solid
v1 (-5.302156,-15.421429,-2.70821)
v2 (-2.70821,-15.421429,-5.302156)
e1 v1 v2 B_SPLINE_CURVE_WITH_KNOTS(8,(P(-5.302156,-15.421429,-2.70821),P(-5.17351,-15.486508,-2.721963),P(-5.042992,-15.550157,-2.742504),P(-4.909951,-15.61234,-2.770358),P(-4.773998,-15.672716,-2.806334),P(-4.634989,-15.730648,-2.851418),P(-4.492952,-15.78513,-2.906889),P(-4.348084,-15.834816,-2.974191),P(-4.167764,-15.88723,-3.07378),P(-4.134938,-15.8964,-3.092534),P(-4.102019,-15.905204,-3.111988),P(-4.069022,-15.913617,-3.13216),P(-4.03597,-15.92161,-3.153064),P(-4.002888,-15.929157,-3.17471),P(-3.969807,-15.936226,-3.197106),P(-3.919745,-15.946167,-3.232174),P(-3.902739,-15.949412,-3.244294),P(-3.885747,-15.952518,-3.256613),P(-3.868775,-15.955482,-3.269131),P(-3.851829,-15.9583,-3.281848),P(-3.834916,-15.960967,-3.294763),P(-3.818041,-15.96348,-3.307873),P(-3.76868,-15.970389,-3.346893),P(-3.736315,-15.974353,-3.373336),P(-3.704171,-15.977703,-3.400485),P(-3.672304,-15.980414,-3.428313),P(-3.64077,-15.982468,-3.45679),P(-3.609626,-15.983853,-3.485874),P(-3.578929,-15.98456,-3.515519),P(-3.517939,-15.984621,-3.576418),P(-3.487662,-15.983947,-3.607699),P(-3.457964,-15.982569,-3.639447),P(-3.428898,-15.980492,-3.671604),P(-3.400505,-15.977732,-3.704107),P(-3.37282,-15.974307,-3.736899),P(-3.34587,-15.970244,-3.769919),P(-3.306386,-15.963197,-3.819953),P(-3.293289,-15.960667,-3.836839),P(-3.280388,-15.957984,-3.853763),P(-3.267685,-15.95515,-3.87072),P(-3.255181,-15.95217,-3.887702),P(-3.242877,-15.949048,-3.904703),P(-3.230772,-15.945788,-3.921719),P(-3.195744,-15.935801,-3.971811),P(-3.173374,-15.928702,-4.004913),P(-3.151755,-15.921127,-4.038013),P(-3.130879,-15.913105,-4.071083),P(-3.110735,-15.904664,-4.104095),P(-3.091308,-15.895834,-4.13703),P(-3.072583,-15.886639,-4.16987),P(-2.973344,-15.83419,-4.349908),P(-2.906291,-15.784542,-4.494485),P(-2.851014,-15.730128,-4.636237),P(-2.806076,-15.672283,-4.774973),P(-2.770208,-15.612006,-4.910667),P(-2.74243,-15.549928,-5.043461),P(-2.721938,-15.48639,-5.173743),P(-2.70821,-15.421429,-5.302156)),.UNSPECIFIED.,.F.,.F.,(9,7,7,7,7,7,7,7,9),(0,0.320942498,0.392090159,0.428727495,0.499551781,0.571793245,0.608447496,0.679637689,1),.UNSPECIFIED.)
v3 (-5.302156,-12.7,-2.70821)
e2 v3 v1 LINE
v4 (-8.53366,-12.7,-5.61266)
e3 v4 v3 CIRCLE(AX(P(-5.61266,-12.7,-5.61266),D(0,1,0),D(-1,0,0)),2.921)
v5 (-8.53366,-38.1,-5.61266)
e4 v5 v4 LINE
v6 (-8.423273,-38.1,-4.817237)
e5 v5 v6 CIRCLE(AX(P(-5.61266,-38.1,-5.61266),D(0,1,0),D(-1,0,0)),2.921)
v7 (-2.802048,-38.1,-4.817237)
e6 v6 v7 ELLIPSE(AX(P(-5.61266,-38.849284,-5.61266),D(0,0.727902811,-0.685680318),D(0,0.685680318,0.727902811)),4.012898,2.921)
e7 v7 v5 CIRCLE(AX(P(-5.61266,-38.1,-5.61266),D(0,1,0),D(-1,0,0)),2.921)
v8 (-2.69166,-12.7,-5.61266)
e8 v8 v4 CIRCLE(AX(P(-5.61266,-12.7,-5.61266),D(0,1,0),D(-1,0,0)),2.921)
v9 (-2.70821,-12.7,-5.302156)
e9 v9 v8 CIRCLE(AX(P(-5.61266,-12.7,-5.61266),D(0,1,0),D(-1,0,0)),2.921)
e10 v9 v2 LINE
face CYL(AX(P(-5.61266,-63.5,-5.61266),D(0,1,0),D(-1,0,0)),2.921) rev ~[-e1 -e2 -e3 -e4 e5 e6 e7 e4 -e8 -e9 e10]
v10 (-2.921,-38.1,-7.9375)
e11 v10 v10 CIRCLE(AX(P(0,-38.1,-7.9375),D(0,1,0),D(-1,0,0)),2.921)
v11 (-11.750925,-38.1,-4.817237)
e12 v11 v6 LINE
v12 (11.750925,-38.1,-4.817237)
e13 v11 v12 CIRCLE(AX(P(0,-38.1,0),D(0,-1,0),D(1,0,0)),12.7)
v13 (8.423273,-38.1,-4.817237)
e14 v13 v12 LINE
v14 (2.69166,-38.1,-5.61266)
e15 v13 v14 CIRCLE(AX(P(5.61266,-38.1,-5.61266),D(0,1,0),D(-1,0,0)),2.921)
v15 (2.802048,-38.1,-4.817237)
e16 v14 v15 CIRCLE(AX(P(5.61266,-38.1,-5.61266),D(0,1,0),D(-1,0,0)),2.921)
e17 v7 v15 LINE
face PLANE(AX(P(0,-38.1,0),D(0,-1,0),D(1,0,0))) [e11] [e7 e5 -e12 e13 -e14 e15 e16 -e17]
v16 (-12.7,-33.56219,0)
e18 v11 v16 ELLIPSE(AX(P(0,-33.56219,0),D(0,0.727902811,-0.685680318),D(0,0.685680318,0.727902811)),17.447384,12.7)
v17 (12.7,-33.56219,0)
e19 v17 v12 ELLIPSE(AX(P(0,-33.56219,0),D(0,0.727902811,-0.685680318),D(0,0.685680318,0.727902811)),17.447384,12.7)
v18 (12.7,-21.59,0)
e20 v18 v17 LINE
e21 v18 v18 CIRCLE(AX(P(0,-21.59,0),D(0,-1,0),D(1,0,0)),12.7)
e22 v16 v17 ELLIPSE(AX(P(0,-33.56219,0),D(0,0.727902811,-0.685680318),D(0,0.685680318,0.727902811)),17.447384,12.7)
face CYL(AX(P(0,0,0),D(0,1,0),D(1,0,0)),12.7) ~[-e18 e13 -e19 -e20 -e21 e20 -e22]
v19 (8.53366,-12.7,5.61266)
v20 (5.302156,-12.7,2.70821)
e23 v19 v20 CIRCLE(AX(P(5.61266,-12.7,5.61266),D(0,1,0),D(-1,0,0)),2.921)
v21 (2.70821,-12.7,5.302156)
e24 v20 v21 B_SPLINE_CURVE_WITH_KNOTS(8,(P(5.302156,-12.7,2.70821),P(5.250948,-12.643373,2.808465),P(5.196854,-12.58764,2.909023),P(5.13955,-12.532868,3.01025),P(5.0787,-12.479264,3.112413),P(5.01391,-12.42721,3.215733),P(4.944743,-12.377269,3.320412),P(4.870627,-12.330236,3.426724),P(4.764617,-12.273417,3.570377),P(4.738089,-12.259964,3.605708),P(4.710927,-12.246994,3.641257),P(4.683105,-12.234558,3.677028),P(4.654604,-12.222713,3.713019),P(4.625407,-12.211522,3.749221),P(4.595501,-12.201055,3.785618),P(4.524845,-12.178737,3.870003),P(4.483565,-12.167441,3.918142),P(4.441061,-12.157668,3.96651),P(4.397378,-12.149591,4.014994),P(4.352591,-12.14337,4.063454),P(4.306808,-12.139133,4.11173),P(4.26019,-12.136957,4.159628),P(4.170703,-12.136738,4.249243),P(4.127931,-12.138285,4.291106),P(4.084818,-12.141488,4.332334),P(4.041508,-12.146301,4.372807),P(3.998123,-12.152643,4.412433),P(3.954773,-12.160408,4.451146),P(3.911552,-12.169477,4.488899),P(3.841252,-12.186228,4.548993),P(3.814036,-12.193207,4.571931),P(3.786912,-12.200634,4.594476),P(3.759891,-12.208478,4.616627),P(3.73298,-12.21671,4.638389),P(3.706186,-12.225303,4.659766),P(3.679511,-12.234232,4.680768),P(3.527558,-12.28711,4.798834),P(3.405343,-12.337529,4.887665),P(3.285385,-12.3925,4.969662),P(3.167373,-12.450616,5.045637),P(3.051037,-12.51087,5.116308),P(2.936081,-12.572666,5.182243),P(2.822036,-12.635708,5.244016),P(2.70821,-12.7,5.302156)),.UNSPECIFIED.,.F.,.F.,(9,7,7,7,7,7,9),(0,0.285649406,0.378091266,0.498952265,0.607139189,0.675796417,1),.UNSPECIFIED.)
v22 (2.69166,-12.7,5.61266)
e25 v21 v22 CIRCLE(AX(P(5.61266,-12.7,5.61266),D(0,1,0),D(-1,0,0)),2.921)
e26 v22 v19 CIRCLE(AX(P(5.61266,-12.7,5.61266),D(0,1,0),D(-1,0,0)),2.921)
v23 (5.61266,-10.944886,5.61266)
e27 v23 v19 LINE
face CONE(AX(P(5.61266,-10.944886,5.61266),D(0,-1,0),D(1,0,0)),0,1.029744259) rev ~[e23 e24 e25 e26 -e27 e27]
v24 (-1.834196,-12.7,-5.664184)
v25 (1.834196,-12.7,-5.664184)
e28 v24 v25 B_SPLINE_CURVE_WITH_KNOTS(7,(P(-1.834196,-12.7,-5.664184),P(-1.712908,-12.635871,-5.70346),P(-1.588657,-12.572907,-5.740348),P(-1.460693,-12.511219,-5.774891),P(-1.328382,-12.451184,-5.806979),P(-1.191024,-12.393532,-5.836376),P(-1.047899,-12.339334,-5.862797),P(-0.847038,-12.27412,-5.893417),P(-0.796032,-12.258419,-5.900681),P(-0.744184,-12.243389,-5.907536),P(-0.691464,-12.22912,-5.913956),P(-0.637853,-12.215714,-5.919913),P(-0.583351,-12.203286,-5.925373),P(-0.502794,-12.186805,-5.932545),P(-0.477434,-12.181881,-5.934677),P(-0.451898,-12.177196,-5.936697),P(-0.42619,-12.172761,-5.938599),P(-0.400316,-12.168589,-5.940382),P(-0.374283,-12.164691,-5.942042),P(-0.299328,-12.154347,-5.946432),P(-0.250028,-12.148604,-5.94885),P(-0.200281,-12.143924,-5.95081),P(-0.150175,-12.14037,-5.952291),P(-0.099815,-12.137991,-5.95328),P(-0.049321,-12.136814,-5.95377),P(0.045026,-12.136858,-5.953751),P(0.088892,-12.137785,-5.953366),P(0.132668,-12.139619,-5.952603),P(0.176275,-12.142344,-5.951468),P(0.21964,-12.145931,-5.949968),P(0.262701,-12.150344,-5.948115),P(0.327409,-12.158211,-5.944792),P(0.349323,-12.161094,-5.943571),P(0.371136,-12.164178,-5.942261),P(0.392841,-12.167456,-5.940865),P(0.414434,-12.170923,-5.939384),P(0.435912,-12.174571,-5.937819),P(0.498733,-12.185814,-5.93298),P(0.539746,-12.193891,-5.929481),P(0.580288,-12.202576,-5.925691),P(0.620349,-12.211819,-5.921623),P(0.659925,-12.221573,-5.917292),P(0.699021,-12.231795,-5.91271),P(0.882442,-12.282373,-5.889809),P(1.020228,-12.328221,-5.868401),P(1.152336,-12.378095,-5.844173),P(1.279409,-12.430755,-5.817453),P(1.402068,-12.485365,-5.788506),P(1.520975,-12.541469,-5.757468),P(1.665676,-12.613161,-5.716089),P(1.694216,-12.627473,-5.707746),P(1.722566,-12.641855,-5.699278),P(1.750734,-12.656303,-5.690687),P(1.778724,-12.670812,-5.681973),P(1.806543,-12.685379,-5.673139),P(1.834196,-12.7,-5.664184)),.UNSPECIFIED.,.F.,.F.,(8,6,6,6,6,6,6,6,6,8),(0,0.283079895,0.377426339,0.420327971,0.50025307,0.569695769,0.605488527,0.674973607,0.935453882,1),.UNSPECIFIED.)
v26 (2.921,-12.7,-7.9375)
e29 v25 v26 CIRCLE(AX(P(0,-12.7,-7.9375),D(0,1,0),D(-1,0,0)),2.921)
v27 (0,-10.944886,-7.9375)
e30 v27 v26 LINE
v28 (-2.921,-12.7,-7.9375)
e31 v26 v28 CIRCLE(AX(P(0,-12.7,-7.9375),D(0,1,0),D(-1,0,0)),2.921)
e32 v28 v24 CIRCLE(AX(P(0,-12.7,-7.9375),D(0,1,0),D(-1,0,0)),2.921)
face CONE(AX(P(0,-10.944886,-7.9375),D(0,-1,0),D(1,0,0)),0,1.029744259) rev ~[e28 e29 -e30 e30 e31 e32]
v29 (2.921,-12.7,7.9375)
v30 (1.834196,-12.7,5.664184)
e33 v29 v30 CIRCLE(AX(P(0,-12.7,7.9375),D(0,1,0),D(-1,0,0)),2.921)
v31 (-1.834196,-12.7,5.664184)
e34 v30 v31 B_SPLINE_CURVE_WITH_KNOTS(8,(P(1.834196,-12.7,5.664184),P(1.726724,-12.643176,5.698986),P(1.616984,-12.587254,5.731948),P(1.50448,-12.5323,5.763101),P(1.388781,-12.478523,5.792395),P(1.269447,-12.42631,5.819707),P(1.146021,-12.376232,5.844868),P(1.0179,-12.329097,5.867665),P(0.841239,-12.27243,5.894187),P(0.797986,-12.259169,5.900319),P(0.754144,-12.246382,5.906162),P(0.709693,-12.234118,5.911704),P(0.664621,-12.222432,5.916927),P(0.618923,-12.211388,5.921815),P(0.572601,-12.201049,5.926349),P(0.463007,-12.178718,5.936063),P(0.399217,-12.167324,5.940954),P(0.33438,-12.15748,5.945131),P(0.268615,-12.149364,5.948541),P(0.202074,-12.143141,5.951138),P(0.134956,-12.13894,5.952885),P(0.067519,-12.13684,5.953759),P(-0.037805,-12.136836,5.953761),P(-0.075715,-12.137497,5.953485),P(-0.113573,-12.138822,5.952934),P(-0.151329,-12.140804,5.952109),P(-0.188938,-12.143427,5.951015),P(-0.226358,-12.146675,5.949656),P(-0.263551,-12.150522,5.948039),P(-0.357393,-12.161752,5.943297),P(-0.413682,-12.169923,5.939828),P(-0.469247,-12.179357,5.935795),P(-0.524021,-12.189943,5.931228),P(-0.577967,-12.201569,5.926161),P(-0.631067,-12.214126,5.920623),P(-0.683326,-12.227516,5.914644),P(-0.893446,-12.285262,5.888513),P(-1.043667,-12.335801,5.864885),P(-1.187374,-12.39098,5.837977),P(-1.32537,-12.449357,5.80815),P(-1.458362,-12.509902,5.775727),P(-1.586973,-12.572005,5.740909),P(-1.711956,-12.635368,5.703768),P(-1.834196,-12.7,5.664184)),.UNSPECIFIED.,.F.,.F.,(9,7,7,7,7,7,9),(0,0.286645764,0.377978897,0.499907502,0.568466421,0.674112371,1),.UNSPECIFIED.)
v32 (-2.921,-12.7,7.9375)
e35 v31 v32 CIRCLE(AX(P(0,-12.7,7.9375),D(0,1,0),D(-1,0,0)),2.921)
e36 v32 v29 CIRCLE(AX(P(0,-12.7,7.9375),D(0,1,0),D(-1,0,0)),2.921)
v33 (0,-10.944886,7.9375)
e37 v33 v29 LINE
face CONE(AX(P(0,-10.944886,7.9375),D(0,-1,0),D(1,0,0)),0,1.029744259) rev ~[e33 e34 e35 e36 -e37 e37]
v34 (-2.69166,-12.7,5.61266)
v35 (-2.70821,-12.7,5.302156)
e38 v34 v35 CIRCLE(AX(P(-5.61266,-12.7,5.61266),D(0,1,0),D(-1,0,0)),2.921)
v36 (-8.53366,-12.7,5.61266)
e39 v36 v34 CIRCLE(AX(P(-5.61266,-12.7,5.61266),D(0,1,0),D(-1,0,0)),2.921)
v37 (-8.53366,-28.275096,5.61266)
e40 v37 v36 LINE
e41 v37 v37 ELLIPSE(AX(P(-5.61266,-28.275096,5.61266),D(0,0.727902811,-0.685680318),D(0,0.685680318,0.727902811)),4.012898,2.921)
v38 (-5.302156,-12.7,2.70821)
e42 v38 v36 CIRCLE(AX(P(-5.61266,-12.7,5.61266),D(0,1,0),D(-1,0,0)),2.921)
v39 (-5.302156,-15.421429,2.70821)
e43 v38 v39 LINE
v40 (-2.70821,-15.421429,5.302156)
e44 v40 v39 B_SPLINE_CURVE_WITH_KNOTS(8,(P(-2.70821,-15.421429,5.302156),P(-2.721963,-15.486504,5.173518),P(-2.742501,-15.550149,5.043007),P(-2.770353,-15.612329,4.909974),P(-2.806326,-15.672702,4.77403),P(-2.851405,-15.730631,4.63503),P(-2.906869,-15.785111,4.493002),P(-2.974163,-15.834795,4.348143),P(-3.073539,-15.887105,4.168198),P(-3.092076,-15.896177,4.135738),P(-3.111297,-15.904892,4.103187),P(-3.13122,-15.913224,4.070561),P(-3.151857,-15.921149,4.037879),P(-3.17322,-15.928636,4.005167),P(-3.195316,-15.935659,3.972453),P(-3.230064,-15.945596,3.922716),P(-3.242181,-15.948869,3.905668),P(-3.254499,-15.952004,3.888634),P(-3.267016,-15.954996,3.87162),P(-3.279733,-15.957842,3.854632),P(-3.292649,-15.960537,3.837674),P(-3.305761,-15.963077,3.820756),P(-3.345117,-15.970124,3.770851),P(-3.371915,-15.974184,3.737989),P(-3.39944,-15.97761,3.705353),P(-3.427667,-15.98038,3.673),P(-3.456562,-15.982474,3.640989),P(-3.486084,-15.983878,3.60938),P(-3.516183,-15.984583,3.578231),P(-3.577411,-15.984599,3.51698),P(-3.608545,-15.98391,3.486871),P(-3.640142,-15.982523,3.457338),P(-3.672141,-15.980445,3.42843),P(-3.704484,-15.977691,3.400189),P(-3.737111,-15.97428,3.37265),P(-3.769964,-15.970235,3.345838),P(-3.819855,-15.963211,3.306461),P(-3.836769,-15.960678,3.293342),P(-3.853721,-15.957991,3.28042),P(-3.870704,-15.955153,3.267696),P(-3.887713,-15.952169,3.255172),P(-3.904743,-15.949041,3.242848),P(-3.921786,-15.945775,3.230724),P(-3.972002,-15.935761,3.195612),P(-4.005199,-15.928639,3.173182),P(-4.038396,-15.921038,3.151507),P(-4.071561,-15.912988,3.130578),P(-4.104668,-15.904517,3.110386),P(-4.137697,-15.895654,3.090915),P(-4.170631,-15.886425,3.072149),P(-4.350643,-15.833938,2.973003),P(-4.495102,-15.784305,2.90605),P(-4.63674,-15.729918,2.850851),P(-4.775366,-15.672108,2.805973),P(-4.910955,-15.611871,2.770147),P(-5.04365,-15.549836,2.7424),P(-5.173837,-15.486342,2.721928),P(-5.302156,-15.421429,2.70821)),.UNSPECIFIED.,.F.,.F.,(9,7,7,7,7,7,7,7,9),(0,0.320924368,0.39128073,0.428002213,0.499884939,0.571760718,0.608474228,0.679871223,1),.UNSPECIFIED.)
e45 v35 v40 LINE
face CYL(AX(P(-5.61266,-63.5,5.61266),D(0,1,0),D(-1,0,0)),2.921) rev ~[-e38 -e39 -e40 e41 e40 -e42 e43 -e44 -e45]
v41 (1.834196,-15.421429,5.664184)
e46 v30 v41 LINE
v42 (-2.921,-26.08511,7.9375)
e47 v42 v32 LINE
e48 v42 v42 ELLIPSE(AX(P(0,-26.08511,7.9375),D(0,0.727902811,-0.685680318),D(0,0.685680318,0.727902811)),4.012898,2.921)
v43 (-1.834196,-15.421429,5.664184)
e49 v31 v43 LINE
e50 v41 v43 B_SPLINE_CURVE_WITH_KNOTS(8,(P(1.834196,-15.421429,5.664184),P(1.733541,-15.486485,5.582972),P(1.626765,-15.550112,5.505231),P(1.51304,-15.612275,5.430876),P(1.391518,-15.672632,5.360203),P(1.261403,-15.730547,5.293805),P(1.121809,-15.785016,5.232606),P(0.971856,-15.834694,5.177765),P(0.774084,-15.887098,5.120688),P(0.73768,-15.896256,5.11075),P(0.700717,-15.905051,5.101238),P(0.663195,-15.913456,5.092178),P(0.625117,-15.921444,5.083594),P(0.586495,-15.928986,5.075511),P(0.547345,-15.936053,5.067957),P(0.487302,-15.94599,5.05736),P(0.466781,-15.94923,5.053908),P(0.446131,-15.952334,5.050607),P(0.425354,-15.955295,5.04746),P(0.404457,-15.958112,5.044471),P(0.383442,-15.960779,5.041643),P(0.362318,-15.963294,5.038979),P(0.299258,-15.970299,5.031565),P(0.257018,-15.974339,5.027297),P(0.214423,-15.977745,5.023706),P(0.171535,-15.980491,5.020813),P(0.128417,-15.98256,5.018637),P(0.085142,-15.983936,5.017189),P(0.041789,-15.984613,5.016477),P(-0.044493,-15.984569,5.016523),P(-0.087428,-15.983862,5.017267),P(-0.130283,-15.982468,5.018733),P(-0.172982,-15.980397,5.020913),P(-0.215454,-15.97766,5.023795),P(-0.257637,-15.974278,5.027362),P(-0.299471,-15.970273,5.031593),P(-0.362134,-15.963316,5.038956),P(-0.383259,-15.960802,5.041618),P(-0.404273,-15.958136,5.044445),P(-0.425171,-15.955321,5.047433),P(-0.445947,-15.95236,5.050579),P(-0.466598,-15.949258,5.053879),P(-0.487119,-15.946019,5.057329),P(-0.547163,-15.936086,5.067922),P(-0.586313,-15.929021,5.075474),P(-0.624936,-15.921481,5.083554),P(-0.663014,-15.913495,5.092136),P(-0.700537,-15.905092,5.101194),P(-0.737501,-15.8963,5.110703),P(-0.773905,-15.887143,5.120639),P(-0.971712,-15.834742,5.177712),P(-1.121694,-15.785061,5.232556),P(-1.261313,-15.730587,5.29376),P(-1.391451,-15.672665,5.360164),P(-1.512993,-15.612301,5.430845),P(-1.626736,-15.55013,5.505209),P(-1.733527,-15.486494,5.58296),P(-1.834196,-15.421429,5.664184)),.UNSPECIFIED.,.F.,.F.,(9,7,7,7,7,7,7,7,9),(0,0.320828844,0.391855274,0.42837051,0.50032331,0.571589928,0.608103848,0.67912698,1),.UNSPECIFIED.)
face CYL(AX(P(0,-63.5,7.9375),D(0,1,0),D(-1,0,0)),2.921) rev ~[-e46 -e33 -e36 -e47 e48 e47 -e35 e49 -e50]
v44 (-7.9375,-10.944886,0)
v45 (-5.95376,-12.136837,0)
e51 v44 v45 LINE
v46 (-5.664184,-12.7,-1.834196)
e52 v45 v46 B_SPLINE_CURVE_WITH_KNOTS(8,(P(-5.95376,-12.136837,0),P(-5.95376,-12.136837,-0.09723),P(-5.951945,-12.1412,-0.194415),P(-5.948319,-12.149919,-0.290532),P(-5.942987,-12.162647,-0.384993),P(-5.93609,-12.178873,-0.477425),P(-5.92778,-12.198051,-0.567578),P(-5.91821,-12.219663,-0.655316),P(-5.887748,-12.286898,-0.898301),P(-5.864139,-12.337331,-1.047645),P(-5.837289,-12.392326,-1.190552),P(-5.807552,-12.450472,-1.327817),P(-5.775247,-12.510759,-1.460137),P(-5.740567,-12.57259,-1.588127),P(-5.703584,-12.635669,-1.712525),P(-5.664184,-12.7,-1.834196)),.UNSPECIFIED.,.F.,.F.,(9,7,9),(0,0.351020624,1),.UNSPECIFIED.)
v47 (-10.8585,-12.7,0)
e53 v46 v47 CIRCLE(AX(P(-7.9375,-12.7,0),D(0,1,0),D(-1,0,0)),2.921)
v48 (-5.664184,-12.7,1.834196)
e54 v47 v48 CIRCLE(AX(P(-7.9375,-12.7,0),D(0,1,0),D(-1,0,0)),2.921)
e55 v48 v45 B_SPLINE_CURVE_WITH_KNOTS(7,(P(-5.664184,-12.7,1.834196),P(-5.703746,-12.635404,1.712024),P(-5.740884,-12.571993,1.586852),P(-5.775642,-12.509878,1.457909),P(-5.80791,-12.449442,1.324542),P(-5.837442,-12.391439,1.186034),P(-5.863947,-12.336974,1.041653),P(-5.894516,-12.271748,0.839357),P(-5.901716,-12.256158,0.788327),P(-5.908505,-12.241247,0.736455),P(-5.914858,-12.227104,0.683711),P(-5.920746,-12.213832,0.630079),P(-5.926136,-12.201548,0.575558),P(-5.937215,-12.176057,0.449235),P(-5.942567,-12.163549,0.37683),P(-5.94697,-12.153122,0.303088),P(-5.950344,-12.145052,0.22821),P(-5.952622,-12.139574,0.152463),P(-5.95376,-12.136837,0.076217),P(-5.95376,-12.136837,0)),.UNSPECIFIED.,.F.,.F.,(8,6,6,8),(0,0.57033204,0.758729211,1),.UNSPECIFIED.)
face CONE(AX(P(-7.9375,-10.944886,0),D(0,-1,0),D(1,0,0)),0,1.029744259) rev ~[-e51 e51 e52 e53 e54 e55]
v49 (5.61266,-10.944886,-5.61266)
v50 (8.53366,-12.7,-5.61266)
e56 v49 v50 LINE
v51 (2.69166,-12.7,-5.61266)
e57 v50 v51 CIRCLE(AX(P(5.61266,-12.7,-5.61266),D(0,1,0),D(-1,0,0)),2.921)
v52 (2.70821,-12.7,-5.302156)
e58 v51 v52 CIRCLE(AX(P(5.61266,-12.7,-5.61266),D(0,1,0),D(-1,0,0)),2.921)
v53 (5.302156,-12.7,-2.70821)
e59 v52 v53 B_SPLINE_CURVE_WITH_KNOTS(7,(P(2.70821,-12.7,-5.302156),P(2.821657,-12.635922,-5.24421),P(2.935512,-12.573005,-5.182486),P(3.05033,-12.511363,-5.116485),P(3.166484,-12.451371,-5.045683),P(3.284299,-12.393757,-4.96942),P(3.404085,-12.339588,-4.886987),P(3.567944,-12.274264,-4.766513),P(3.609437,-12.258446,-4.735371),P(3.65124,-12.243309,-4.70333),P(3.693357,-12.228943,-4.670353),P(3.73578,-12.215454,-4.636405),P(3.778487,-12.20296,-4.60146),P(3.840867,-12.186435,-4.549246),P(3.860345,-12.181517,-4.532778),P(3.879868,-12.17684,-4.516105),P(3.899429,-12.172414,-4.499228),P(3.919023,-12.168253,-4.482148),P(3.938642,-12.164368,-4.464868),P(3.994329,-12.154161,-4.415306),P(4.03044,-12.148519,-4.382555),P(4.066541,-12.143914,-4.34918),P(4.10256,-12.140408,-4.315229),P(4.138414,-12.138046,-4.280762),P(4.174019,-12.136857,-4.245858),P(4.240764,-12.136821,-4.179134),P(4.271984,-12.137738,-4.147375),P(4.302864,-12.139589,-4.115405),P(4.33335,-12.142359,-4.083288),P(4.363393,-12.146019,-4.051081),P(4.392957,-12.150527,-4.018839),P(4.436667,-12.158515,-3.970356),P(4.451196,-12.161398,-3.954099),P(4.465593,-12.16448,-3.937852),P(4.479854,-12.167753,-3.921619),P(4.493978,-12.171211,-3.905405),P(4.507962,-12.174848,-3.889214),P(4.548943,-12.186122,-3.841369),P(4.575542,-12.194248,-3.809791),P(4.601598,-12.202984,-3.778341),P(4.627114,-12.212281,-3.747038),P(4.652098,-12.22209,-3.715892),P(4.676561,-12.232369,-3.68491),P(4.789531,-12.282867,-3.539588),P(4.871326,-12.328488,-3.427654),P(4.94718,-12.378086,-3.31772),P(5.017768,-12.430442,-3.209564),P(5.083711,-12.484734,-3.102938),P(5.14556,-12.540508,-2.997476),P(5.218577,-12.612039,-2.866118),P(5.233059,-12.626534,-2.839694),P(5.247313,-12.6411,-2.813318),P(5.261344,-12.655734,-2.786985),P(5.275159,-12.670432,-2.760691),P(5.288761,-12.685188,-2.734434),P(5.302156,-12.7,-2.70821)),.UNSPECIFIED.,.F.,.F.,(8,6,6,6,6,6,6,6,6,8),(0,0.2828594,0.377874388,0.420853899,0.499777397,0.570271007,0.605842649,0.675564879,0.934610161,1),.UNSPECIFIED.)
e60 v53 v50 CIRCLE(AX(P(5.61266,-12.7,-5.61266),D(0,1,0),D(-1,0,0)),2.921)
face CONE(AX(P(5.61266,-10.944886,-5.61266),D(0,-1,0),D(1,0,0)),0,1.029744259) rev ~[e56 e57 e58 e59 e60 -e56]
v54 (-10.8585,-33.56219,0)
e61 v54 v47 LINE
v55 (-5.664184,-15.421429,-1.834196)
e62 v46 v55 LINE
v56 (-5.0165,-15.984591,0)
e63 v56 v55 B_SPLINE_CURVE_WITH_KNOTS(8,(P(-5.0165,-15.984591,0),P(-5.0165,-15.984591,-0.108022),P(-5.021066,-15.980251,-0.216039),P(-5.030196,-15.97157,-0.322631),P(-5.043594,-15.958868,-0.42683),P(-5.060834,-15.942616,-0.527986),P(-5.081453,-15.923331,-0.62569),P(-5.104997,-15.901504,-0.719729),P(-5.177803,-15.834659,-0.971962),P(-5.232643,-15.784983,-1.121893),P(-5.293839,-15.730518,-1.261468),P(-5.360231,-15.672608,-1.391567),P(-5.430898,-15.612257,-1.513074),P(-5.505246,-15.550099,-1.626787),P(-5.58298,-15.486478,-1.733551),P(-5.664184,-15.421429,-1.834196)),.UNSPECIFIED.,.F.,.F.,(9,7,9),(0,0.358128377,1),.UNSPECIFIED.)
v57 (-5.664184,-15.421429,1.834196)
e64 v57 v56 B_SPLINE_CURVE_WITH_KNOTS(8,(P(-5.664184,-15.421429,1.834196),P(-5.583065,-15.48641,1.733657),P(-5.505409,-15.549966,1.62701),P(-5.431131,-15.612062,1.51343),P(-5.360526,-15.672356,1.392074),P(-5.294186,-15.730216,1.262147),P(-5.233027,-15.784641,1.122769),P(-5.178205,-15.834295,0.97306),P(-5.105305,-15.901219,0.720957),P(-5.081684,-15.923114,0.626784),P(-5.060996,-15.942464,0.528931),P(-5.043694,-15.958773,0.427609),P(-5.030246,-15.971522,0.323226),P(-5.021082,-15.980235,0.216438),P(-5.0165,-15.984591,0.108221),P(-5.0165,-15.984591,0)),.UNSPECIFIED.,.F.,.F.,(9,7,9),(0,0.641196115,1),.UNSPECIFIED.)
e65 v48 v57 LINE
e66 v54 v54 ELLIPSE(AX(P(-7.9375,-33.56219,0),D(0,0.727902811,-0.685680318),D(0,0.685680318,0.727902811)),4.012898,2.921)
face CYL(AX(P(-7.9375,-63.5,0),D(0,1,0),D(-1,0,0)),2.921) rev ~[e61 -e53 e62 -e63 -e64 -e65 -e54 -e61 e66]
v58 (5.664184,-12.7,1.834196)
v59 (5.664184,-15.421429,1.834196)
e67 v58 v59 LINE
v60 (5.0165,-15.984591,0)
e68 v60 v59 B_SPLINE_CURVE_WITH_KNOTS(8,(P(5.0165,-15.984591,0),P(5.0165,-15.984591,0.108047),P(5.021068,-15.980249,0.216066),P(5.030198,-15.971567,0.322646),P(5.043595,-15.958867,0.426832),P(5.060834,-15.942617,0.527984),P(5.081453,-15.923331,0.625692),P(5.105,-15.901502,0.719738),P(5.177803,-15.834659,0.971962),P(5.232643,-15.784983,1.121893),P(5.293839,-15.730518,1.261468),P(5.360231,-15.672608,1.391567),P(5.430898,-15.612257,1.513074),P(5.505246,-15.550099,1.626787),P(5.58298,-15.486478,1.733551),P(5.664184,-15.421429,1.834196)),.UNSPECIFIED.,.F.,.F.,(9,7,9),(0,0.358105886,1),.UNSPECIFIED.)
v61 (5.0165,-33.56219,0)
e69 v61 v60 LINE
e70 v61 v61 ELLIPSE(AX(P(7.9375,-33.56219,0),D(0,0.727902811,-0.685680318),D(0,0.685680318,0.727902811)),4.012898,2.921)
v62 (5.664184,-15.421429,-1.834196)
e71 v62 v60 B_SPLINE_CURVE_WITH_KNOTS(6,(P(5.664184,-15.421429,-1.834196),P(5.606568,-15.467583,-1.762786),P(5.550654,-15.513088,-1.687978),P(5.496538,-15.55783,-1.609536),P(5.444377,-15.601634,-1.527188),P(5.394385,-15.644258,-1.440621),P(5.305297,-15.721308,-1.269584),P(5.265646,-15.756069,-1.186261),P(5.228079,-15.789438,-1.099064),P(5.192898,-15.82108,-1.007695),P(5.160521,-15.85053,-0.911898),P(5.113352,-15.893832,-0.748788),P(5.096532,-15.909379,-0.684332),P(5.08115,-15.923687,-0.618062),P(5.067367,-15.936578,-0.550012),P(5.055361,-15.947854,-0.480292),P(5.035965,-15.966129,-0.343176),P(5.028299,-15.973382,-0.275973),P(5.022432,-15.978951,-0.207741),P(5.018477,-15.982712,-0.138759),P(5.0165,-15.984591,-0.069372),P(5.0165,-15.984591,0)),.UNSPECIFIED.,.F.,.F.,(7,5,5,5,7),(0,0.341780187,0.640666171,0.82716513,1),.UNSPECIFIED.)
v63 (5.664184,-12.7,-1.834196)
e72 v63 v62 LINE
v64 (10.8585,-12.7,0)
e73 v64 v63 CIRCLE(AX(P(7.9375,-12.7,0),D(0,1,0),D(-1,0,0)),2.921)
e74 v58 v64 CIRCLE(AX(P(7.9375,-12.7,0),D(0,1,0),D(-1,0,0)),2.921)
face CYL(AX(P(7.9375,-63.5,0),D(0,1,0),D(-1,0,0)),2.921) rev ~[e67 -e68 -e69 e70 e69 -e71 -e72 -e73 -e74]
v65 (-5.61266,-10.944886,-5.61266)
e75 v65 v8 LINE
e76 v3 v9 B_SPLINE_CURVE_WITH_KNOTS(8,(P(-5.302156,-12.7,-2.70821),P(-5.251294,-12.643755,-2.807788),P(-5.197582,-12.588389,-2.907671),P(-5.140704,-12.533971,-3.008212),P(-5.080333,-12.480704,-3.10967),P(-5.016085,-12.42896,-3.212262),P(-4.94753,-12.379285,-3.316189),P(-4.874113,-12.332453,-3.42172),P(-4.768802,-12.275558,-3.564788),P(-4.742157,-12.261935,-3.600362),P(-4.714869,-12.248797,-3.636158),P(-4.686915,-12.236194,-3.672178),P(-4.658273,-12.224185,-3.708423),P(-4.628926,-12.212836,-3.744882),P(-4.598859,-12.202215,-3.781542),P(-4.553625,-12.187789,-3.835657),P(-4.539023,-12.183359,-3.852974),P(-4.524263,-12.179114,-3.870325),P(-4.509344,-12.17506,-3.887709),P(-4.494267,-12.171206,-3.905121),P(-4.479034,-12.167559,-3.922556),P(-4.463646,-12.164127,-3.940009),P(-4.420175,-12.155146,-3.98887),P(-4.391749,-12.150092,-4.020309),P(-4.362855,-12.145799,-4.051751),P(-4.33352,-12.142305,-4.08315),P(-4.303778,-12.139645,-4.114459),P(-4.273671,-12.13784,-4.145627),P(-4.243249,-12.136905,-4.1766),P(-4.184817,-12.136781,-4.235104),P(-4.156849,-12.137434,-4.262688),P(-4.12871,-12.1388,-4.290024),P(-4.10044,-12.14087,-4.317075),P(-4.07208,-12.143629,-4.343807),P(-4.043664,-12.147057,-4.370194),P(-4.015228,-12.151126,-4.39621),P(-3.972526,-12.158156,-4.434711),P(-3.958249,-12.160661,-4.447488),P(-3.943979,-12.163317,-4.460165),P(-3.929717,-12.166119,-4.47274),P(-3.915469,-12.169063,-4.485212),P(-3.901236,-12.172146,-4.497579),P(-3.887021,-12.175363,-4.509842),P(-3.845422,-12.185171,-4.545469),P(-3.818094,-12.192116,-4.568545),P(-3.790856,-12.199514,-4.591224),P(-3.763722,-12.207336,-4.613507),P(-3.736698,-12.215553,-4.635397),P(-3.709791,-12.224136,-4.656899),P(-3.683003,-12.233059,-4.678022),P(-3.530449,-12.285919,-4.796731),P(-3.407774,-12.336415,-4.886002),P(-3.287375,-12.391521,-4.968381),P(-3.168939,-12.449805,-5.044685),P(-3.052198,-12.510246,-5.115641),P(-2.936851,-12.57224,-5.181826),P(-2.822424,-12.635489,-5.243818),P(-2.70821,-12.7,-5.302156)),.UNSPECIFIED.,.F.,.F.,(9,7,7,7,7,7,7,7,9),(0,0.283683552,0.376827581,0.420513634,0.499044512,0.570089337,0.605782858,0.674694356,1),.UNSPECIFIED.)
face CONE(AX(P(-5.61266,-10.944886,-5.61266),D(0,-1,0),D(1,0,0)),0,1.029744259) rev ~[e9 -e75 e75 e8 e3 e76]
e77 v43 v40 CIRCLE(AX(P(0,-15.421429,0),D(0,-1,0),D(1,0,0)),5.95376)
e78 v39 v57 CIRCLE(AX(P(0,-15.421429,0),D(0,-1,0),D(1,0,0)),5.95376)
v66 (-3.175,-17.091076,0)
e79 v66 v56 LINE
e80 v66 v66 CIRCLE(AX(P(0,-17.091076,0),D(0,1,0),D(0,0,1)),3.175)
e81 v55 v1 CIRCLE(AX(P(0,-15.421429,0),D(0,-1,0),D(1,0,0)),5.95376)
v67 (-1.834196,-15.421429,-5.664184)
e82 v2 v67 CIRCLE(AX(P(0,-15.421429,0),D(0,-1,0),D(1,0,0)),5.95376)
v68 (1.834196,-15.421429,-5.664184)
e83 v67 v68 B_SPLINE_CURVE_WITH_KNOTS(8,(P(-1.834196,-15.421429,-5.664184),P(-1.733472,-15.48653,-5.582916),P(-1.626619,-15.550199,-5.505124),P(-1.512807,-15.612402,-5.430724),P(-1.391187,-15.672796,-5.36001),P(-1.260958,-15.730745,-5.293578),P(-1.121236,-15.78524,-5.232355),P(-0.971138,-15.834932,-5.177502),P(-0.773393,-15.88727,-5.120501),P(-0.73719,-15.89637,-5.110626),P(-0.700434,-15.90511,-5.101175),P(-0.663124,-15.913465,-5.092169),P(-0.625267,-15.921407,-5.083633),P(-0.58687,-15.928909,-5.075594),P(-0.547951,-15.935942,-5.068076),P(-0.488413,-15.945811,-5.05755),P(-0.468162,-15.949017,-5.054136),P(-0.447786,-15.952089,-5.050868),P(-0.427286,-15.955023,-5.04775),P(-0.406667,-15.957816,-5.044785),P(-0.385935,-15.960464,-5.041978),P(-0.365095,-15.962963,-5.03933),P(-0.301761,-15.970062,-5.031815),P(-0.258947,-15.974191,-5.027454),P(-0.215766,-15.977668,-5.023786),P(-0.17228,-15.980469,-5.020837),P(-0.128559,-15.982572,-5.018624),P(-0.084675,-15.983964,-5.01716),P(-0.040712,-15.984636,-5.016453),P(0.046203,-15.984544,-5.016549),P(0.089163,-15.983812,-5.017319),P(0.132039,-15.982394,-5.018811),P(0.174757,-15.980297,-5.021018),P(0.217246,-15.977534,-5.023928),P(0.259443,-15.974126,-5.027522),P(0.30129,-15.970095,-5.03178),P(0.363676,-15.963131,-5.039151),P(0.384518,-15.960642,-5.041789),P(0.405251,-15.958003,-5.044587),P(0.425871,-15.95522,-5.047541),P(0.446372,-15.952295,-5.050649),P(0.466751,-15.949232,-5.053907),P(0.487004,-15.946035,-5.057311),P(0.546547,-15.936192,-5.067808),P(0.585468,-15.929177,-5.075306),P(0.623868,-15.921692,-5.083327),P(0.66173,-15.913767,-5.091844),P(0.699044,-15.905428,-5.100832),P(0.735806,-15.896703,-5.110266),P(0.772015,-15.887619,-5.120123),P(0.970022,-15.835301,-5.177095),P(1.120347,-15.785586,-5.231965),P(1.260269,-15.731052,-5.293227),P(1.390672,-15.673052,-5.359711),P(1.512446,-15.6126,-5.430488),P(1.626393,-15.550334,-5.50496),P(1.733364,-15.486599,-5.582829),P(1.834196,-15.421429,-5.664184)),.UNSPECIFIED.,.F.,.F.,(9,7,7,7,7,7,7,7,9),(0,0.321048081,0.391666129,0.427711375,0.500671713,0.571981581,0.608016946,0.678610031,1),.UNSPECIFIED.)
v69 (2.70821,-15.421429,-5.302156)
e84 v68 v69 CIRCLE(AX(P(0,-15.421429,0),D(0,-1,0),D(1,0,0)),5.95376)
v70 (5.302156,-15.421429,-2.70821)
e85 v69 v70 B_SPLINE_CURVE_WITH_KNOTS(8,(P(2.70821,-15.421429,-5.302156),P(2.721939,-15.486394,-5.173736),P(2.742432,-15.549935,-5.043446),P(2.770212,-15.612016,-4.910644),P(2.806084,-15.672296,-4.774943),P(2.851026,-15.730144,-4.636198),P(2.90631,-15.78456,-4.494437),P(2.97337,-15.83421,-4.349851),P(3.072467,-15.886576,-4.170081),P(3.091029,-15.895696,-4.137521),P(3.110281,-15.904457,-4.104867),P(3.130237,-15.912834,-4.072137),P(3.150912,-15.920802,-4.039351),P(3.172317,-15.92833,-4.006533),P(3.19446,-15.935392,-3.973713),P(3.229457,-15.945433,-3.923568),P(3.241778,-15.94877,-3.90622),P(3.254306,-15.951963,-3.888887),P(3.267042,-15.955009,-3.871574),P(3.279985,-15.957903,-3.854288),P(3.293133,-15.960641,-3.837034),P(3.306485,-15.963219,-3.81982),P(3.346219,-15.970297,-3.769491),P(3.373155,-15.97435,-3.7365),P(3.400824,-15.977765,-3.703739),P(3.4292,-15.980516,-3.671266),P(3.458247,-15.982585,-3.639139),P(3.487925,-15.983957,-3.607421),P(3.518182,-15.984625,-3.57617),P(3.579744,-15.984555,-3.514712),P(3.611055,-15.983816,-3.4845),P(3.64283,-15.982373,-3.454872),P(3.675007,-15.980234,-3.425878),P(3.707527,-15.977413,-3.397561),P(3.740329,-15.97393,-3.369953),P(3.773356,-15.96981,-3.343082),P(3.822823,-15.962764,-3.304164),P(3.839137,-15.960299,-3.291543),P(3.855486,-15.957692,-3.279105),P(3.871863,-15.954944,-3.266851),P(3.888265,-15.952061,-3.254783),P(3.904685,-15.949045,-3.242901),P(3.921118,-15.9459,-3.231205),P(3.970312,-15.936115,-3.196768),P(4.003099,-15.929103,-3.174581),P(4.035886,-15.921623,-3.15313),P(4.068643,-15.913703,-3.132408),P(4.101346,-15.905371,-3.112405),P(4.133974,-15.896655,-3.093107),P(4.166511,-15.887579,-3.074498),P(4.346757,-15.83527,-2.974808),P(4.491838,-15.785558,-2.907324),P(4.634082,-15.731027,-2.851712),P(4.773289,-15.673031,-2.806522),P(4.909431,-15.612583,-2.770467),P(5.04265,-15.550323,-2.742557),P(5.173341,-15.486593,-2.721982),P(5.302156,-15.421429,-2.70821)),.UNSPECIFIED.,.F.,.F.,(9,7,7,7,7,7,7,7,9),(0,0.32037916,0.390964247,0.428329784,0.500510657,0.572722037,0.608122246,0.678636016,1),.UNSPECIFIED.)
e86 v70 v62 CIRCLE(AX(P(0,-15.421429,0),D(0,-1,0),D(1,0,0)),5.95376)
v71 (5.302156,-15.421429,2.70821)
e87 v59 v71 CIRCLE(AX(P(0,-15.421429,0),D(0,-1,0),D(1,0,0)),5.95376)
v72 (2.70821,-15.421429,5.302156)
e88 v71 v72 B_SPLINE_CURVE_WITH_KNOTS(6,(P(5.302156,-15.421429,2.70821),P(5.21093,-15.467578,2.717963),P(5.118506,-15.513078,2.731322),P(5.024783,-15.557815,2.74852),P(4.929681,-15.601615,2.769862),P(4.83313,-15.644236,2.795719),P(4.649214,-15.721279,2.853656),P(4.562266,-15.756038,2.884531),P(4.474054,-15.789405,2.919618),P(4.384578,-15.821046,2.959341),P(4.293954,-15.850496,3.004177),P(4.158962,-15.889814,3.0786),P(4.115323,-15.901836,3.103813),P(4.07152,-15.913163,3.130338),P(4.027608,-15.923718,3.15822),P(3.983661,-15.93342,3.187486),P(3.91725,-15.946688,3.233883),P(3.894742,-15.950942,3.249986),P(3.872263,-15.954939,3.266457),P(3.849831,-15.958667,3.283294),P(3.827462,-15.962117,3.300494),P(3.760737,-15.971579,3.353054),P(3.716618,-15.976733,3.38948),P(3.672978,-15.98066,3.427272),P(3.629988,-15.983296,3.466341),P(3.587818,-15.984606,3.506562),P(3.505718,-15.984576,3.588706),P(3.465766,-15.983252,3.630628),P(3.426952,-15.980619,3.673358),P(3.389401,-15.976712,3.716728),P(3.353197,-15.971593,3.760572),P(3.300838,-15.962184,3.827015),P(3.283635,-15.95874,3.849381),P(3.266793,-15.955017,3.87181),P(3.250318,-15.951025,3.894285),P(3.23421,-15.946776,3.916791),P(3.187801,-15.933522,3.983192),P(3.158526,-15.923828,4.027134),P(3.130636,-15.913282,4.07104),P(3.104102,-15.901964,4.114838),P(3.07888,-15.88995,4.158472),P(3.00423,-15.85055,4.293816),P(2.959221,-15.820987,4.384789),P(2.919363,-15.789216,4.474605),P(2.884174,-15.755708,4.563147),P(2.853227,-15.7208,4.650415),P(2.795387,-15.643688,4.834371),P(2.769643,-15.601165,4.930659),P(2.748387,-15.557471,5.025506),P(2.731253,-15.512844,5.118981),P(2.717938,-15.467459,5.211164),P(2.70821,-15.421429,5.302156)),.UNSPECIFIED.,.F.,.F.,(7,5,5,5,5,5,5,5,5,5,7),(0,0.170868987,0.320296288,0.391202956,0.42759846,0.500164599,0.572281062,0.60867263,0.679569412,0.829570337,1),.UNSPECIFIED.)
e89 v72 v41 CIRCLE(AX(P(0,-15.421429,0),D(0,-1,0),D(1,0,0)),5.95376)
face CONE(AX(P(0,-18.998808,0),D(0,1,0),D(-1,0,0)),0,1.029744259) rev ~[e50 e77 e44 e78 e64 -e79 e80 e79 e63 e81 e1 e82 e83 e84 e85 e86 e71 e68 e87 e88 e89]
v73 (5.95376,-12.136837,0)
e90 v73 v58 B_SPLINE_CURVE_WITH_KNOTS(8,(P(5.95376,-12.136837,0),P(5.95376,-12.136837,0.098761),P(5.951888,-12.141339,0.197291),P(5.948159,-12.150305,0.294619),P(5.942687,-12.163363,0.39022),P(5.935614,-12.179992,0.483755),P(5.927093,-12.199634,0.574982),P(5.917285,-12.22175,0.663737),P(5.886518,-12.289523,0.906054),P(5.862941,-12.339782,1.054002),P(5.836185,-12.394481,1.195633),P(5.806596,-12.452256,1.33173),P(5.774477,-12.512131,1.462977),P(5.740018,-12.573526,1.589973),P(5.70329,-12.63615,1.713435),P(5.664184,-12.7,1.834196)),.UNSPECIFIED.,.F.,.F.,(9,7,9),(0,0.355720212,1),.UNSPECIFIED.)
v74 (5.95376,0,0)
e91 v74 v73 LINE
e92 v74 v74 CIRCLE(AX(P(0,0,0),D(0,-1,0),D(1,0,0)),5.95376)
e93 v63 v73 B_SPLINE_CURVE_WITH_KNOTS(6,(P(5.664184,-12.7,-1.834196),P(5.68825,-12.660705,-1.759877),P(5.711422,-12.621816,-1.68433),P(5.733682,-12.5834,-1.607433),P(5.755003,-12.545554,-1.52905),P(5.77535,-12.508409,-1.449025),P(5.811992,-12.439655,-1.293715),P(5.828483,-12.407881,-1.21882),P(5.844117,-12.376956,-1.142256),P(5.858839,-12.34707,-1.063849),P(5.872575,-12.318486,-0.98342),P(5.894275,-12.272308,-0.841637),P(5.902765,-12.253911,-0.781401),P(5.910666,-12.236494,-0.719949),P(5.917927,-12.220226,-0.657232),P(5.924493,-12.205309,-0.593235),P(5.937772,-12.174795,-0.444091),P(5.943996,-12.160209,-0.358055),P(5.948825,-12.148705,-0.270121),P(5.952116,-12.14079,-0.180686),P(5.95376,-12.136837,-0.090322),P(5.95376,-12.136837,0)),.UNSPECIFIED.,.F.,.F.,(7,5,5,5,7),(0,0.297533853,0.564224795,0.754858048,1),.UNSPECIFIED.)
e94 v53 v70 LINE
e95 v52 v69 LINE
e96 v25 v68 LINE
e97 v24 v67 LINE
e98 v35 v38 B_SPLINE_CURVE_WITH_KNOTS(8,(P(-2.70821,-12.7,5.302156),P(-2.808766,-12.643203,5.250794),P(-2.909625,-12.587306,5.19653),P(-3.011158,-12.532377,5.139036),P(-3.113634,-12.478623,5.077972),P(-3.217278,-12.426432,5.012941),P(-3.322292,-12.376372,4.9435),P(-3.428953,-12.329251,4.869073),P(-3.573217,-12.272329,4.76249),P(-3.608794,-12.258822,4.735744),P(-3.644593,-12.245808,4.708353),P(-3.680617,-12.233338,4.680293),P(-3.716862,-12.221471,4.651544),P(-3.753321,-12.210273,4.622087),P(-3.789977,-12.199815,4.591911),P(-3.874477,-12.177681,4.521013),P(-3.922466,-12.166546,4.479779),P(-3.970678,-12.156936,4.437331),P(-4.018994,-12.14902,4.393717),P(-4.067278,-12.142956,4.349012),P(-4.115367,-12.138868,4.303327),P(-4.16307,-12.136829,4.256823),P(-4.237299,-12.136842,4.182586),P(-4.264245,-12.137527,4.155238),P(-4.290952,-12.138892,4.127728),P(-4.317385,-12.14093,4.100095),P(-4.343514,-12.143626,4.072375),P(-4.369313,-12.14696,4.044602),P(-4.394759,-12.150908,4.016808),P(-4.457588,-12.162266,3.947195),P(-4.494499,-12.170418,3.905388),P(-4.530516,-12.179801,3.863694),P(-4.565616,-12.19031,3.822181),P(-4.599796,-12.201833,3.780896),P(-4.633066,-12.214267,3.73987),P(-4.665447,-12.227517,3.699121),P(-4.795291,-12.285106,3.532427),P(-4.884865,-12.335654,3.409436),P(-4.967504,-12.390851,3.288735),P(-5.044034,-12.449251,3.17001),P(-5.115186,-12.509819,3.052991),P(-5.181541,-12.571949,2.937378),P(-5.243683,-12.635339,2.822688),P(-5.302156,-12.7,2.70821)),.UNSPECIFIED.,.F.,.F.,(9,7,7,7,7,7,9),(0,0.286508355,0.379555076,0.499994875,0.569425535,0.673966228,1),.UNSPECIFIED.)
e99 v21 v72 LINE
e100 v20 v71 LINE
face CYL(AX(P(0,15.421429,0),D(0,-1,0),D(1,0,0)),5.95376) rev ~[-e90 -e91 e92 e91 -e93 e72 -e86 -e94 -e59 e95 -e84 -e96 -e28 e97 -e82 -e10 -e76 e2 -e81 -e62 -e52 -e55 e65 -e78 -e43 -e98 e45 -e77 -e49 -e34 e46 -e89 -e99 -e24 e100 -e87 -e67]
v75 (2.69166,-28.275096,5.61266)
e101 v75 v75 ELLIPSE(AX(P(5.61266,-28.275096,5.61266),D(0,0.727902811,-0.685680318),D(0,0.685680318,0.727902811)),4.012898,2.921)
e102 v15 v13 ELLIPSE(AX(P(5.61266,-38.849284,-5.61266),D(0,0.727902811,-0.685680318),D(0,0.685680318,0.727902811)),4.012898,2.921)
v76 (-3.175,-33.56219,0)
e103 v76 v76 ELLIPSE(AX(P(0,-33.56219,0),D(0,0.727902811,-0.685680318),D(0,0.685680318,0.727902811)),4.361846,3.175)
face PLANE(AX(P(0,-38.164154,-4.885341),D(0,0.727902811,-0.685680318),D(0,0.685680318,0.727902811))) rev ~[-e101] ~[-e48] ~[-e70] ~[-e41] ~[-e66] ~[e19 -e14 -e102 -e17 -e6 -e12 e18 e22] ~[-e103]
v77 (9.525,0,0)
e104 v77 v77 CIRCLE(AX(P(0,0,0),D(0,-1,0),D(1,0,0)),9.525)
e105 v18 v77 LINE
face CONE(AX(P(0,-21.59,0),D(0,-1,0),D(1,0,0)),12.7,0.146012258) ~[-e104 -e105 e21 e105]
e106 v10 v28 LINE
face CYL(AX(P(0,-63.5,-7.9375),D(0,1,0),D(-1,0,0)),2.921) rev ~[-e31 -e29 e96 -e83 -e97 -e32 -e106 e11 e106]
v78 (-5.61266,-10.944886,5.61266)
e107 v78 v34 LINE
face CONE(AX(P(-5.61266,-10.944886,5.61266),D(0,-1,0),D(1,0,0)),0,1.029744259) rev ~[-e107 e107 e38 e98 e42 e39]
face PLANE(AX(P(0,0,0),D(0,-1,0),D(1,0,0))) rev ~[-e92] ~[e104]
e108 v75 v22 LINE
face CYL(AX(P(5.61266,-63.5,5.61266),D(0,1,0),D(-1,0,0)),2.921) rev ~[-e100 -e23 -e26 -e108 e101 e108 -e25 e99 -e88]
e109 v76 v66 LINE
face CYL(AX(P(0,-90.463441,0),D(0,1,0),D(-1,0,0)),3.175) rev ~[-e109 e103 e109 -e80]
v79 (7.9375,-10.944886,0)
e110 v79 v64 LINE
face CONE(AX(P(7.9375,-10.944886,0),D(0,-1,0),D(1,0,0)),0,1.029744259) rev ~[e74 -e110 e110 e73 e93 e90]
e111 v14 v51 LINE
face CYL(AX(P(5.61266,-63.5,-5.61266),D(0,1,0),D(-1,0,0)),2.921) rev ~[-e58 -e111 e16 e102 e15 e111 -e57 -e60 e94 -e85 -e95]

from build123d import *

# Parameters (mm, degrees)
F0_R      = 12.7
F1_DEPTH  = 38.1
F3_D      = 11.90752
F3_DEPTH  = 15.4214285714
F3_TIP    = 3.5773799191
F5_D      = 6.35
F7_D      = 5.842
F7_DEPTH  = 25.4
F7_TIP    = 1.7551138682
F11_SIZE2 = 3.175
F11_SIZE  = 21.59
F13_DEPTH = 12.7


with BuildPart() as f1:
    # F0 (on Front) → F1 (new body)
    with BuildSketch(Plane.XZ):
        Circle(F0_R)
    extrude(amount=F1_DEPTH)

    # F3
    with Locations(Plane(origin=(0, 0, 0), x_dir=(-1, 0, 0), z_dir=(0, 1, 0))):
        with Locations((0, 0)):
            Hole(F3_D / 2, depth=F3_DEPTH)
            with Locations((0, 0, -(F3_DEPTH + F3_TIP / 2))):  # 118° drill point
                Cone(0, F3_D / 2, F3_TIP, mode=Mode.SUBTRACT)

    # F5 (through all)
    with Locations(Plane.XZ.offset(38.1)):
        with Locations((0, 0)):
            Hole(F5_D / 2)

    # F7
    with Locations(Plane.XZ.offset(38.1)):
        with Locations((0, 7.9375), (-5.6126600757, 5.6126600757), (-7.9375, 0), (-5.6126600757, -5.6126600757), (0, -7.9375), (5.6126600757, -5.6126600757), (7.9375, 0), (5.6126600757, 5.6126600757)):
            Hole(F7_D / 2, depth=F7_DEPTH)
            with Locations((0, 0, -(F7_DEPTH + F7_TIP / 2))):  # 118° drill point
                Cone(0, F7_D / 2, F7_TIP, mode=Mode.SUBTRACT)

    # F11
    f11_edges = [f1.edges().sort_by_distance(p)[0] for p in [
        (-12.7, 0, 0),
    ]]
    f11_side = f1.faces().sort_by_distance((-12.7, -19.05, 0))[0]
    chamfer(f11_edges, length=F11_SIZE, length2=F11_SIZE2, reference=f11_side)

    # F12 (on Right) → F13 (cut, symmetric)
    with BuildSketch(Plane.YZ):
        Polygon((-43.4335693717, -3.8883644156), (-38.1641536951, -4.8853410408), (-19.5609088987, 14.8634454235), (-39.1272343695, 17.5419766456), align=None)
    extrude(amount=F13_DEPTH, both=True, mode=Mode.SUBTRACT)


solid = f1.part
